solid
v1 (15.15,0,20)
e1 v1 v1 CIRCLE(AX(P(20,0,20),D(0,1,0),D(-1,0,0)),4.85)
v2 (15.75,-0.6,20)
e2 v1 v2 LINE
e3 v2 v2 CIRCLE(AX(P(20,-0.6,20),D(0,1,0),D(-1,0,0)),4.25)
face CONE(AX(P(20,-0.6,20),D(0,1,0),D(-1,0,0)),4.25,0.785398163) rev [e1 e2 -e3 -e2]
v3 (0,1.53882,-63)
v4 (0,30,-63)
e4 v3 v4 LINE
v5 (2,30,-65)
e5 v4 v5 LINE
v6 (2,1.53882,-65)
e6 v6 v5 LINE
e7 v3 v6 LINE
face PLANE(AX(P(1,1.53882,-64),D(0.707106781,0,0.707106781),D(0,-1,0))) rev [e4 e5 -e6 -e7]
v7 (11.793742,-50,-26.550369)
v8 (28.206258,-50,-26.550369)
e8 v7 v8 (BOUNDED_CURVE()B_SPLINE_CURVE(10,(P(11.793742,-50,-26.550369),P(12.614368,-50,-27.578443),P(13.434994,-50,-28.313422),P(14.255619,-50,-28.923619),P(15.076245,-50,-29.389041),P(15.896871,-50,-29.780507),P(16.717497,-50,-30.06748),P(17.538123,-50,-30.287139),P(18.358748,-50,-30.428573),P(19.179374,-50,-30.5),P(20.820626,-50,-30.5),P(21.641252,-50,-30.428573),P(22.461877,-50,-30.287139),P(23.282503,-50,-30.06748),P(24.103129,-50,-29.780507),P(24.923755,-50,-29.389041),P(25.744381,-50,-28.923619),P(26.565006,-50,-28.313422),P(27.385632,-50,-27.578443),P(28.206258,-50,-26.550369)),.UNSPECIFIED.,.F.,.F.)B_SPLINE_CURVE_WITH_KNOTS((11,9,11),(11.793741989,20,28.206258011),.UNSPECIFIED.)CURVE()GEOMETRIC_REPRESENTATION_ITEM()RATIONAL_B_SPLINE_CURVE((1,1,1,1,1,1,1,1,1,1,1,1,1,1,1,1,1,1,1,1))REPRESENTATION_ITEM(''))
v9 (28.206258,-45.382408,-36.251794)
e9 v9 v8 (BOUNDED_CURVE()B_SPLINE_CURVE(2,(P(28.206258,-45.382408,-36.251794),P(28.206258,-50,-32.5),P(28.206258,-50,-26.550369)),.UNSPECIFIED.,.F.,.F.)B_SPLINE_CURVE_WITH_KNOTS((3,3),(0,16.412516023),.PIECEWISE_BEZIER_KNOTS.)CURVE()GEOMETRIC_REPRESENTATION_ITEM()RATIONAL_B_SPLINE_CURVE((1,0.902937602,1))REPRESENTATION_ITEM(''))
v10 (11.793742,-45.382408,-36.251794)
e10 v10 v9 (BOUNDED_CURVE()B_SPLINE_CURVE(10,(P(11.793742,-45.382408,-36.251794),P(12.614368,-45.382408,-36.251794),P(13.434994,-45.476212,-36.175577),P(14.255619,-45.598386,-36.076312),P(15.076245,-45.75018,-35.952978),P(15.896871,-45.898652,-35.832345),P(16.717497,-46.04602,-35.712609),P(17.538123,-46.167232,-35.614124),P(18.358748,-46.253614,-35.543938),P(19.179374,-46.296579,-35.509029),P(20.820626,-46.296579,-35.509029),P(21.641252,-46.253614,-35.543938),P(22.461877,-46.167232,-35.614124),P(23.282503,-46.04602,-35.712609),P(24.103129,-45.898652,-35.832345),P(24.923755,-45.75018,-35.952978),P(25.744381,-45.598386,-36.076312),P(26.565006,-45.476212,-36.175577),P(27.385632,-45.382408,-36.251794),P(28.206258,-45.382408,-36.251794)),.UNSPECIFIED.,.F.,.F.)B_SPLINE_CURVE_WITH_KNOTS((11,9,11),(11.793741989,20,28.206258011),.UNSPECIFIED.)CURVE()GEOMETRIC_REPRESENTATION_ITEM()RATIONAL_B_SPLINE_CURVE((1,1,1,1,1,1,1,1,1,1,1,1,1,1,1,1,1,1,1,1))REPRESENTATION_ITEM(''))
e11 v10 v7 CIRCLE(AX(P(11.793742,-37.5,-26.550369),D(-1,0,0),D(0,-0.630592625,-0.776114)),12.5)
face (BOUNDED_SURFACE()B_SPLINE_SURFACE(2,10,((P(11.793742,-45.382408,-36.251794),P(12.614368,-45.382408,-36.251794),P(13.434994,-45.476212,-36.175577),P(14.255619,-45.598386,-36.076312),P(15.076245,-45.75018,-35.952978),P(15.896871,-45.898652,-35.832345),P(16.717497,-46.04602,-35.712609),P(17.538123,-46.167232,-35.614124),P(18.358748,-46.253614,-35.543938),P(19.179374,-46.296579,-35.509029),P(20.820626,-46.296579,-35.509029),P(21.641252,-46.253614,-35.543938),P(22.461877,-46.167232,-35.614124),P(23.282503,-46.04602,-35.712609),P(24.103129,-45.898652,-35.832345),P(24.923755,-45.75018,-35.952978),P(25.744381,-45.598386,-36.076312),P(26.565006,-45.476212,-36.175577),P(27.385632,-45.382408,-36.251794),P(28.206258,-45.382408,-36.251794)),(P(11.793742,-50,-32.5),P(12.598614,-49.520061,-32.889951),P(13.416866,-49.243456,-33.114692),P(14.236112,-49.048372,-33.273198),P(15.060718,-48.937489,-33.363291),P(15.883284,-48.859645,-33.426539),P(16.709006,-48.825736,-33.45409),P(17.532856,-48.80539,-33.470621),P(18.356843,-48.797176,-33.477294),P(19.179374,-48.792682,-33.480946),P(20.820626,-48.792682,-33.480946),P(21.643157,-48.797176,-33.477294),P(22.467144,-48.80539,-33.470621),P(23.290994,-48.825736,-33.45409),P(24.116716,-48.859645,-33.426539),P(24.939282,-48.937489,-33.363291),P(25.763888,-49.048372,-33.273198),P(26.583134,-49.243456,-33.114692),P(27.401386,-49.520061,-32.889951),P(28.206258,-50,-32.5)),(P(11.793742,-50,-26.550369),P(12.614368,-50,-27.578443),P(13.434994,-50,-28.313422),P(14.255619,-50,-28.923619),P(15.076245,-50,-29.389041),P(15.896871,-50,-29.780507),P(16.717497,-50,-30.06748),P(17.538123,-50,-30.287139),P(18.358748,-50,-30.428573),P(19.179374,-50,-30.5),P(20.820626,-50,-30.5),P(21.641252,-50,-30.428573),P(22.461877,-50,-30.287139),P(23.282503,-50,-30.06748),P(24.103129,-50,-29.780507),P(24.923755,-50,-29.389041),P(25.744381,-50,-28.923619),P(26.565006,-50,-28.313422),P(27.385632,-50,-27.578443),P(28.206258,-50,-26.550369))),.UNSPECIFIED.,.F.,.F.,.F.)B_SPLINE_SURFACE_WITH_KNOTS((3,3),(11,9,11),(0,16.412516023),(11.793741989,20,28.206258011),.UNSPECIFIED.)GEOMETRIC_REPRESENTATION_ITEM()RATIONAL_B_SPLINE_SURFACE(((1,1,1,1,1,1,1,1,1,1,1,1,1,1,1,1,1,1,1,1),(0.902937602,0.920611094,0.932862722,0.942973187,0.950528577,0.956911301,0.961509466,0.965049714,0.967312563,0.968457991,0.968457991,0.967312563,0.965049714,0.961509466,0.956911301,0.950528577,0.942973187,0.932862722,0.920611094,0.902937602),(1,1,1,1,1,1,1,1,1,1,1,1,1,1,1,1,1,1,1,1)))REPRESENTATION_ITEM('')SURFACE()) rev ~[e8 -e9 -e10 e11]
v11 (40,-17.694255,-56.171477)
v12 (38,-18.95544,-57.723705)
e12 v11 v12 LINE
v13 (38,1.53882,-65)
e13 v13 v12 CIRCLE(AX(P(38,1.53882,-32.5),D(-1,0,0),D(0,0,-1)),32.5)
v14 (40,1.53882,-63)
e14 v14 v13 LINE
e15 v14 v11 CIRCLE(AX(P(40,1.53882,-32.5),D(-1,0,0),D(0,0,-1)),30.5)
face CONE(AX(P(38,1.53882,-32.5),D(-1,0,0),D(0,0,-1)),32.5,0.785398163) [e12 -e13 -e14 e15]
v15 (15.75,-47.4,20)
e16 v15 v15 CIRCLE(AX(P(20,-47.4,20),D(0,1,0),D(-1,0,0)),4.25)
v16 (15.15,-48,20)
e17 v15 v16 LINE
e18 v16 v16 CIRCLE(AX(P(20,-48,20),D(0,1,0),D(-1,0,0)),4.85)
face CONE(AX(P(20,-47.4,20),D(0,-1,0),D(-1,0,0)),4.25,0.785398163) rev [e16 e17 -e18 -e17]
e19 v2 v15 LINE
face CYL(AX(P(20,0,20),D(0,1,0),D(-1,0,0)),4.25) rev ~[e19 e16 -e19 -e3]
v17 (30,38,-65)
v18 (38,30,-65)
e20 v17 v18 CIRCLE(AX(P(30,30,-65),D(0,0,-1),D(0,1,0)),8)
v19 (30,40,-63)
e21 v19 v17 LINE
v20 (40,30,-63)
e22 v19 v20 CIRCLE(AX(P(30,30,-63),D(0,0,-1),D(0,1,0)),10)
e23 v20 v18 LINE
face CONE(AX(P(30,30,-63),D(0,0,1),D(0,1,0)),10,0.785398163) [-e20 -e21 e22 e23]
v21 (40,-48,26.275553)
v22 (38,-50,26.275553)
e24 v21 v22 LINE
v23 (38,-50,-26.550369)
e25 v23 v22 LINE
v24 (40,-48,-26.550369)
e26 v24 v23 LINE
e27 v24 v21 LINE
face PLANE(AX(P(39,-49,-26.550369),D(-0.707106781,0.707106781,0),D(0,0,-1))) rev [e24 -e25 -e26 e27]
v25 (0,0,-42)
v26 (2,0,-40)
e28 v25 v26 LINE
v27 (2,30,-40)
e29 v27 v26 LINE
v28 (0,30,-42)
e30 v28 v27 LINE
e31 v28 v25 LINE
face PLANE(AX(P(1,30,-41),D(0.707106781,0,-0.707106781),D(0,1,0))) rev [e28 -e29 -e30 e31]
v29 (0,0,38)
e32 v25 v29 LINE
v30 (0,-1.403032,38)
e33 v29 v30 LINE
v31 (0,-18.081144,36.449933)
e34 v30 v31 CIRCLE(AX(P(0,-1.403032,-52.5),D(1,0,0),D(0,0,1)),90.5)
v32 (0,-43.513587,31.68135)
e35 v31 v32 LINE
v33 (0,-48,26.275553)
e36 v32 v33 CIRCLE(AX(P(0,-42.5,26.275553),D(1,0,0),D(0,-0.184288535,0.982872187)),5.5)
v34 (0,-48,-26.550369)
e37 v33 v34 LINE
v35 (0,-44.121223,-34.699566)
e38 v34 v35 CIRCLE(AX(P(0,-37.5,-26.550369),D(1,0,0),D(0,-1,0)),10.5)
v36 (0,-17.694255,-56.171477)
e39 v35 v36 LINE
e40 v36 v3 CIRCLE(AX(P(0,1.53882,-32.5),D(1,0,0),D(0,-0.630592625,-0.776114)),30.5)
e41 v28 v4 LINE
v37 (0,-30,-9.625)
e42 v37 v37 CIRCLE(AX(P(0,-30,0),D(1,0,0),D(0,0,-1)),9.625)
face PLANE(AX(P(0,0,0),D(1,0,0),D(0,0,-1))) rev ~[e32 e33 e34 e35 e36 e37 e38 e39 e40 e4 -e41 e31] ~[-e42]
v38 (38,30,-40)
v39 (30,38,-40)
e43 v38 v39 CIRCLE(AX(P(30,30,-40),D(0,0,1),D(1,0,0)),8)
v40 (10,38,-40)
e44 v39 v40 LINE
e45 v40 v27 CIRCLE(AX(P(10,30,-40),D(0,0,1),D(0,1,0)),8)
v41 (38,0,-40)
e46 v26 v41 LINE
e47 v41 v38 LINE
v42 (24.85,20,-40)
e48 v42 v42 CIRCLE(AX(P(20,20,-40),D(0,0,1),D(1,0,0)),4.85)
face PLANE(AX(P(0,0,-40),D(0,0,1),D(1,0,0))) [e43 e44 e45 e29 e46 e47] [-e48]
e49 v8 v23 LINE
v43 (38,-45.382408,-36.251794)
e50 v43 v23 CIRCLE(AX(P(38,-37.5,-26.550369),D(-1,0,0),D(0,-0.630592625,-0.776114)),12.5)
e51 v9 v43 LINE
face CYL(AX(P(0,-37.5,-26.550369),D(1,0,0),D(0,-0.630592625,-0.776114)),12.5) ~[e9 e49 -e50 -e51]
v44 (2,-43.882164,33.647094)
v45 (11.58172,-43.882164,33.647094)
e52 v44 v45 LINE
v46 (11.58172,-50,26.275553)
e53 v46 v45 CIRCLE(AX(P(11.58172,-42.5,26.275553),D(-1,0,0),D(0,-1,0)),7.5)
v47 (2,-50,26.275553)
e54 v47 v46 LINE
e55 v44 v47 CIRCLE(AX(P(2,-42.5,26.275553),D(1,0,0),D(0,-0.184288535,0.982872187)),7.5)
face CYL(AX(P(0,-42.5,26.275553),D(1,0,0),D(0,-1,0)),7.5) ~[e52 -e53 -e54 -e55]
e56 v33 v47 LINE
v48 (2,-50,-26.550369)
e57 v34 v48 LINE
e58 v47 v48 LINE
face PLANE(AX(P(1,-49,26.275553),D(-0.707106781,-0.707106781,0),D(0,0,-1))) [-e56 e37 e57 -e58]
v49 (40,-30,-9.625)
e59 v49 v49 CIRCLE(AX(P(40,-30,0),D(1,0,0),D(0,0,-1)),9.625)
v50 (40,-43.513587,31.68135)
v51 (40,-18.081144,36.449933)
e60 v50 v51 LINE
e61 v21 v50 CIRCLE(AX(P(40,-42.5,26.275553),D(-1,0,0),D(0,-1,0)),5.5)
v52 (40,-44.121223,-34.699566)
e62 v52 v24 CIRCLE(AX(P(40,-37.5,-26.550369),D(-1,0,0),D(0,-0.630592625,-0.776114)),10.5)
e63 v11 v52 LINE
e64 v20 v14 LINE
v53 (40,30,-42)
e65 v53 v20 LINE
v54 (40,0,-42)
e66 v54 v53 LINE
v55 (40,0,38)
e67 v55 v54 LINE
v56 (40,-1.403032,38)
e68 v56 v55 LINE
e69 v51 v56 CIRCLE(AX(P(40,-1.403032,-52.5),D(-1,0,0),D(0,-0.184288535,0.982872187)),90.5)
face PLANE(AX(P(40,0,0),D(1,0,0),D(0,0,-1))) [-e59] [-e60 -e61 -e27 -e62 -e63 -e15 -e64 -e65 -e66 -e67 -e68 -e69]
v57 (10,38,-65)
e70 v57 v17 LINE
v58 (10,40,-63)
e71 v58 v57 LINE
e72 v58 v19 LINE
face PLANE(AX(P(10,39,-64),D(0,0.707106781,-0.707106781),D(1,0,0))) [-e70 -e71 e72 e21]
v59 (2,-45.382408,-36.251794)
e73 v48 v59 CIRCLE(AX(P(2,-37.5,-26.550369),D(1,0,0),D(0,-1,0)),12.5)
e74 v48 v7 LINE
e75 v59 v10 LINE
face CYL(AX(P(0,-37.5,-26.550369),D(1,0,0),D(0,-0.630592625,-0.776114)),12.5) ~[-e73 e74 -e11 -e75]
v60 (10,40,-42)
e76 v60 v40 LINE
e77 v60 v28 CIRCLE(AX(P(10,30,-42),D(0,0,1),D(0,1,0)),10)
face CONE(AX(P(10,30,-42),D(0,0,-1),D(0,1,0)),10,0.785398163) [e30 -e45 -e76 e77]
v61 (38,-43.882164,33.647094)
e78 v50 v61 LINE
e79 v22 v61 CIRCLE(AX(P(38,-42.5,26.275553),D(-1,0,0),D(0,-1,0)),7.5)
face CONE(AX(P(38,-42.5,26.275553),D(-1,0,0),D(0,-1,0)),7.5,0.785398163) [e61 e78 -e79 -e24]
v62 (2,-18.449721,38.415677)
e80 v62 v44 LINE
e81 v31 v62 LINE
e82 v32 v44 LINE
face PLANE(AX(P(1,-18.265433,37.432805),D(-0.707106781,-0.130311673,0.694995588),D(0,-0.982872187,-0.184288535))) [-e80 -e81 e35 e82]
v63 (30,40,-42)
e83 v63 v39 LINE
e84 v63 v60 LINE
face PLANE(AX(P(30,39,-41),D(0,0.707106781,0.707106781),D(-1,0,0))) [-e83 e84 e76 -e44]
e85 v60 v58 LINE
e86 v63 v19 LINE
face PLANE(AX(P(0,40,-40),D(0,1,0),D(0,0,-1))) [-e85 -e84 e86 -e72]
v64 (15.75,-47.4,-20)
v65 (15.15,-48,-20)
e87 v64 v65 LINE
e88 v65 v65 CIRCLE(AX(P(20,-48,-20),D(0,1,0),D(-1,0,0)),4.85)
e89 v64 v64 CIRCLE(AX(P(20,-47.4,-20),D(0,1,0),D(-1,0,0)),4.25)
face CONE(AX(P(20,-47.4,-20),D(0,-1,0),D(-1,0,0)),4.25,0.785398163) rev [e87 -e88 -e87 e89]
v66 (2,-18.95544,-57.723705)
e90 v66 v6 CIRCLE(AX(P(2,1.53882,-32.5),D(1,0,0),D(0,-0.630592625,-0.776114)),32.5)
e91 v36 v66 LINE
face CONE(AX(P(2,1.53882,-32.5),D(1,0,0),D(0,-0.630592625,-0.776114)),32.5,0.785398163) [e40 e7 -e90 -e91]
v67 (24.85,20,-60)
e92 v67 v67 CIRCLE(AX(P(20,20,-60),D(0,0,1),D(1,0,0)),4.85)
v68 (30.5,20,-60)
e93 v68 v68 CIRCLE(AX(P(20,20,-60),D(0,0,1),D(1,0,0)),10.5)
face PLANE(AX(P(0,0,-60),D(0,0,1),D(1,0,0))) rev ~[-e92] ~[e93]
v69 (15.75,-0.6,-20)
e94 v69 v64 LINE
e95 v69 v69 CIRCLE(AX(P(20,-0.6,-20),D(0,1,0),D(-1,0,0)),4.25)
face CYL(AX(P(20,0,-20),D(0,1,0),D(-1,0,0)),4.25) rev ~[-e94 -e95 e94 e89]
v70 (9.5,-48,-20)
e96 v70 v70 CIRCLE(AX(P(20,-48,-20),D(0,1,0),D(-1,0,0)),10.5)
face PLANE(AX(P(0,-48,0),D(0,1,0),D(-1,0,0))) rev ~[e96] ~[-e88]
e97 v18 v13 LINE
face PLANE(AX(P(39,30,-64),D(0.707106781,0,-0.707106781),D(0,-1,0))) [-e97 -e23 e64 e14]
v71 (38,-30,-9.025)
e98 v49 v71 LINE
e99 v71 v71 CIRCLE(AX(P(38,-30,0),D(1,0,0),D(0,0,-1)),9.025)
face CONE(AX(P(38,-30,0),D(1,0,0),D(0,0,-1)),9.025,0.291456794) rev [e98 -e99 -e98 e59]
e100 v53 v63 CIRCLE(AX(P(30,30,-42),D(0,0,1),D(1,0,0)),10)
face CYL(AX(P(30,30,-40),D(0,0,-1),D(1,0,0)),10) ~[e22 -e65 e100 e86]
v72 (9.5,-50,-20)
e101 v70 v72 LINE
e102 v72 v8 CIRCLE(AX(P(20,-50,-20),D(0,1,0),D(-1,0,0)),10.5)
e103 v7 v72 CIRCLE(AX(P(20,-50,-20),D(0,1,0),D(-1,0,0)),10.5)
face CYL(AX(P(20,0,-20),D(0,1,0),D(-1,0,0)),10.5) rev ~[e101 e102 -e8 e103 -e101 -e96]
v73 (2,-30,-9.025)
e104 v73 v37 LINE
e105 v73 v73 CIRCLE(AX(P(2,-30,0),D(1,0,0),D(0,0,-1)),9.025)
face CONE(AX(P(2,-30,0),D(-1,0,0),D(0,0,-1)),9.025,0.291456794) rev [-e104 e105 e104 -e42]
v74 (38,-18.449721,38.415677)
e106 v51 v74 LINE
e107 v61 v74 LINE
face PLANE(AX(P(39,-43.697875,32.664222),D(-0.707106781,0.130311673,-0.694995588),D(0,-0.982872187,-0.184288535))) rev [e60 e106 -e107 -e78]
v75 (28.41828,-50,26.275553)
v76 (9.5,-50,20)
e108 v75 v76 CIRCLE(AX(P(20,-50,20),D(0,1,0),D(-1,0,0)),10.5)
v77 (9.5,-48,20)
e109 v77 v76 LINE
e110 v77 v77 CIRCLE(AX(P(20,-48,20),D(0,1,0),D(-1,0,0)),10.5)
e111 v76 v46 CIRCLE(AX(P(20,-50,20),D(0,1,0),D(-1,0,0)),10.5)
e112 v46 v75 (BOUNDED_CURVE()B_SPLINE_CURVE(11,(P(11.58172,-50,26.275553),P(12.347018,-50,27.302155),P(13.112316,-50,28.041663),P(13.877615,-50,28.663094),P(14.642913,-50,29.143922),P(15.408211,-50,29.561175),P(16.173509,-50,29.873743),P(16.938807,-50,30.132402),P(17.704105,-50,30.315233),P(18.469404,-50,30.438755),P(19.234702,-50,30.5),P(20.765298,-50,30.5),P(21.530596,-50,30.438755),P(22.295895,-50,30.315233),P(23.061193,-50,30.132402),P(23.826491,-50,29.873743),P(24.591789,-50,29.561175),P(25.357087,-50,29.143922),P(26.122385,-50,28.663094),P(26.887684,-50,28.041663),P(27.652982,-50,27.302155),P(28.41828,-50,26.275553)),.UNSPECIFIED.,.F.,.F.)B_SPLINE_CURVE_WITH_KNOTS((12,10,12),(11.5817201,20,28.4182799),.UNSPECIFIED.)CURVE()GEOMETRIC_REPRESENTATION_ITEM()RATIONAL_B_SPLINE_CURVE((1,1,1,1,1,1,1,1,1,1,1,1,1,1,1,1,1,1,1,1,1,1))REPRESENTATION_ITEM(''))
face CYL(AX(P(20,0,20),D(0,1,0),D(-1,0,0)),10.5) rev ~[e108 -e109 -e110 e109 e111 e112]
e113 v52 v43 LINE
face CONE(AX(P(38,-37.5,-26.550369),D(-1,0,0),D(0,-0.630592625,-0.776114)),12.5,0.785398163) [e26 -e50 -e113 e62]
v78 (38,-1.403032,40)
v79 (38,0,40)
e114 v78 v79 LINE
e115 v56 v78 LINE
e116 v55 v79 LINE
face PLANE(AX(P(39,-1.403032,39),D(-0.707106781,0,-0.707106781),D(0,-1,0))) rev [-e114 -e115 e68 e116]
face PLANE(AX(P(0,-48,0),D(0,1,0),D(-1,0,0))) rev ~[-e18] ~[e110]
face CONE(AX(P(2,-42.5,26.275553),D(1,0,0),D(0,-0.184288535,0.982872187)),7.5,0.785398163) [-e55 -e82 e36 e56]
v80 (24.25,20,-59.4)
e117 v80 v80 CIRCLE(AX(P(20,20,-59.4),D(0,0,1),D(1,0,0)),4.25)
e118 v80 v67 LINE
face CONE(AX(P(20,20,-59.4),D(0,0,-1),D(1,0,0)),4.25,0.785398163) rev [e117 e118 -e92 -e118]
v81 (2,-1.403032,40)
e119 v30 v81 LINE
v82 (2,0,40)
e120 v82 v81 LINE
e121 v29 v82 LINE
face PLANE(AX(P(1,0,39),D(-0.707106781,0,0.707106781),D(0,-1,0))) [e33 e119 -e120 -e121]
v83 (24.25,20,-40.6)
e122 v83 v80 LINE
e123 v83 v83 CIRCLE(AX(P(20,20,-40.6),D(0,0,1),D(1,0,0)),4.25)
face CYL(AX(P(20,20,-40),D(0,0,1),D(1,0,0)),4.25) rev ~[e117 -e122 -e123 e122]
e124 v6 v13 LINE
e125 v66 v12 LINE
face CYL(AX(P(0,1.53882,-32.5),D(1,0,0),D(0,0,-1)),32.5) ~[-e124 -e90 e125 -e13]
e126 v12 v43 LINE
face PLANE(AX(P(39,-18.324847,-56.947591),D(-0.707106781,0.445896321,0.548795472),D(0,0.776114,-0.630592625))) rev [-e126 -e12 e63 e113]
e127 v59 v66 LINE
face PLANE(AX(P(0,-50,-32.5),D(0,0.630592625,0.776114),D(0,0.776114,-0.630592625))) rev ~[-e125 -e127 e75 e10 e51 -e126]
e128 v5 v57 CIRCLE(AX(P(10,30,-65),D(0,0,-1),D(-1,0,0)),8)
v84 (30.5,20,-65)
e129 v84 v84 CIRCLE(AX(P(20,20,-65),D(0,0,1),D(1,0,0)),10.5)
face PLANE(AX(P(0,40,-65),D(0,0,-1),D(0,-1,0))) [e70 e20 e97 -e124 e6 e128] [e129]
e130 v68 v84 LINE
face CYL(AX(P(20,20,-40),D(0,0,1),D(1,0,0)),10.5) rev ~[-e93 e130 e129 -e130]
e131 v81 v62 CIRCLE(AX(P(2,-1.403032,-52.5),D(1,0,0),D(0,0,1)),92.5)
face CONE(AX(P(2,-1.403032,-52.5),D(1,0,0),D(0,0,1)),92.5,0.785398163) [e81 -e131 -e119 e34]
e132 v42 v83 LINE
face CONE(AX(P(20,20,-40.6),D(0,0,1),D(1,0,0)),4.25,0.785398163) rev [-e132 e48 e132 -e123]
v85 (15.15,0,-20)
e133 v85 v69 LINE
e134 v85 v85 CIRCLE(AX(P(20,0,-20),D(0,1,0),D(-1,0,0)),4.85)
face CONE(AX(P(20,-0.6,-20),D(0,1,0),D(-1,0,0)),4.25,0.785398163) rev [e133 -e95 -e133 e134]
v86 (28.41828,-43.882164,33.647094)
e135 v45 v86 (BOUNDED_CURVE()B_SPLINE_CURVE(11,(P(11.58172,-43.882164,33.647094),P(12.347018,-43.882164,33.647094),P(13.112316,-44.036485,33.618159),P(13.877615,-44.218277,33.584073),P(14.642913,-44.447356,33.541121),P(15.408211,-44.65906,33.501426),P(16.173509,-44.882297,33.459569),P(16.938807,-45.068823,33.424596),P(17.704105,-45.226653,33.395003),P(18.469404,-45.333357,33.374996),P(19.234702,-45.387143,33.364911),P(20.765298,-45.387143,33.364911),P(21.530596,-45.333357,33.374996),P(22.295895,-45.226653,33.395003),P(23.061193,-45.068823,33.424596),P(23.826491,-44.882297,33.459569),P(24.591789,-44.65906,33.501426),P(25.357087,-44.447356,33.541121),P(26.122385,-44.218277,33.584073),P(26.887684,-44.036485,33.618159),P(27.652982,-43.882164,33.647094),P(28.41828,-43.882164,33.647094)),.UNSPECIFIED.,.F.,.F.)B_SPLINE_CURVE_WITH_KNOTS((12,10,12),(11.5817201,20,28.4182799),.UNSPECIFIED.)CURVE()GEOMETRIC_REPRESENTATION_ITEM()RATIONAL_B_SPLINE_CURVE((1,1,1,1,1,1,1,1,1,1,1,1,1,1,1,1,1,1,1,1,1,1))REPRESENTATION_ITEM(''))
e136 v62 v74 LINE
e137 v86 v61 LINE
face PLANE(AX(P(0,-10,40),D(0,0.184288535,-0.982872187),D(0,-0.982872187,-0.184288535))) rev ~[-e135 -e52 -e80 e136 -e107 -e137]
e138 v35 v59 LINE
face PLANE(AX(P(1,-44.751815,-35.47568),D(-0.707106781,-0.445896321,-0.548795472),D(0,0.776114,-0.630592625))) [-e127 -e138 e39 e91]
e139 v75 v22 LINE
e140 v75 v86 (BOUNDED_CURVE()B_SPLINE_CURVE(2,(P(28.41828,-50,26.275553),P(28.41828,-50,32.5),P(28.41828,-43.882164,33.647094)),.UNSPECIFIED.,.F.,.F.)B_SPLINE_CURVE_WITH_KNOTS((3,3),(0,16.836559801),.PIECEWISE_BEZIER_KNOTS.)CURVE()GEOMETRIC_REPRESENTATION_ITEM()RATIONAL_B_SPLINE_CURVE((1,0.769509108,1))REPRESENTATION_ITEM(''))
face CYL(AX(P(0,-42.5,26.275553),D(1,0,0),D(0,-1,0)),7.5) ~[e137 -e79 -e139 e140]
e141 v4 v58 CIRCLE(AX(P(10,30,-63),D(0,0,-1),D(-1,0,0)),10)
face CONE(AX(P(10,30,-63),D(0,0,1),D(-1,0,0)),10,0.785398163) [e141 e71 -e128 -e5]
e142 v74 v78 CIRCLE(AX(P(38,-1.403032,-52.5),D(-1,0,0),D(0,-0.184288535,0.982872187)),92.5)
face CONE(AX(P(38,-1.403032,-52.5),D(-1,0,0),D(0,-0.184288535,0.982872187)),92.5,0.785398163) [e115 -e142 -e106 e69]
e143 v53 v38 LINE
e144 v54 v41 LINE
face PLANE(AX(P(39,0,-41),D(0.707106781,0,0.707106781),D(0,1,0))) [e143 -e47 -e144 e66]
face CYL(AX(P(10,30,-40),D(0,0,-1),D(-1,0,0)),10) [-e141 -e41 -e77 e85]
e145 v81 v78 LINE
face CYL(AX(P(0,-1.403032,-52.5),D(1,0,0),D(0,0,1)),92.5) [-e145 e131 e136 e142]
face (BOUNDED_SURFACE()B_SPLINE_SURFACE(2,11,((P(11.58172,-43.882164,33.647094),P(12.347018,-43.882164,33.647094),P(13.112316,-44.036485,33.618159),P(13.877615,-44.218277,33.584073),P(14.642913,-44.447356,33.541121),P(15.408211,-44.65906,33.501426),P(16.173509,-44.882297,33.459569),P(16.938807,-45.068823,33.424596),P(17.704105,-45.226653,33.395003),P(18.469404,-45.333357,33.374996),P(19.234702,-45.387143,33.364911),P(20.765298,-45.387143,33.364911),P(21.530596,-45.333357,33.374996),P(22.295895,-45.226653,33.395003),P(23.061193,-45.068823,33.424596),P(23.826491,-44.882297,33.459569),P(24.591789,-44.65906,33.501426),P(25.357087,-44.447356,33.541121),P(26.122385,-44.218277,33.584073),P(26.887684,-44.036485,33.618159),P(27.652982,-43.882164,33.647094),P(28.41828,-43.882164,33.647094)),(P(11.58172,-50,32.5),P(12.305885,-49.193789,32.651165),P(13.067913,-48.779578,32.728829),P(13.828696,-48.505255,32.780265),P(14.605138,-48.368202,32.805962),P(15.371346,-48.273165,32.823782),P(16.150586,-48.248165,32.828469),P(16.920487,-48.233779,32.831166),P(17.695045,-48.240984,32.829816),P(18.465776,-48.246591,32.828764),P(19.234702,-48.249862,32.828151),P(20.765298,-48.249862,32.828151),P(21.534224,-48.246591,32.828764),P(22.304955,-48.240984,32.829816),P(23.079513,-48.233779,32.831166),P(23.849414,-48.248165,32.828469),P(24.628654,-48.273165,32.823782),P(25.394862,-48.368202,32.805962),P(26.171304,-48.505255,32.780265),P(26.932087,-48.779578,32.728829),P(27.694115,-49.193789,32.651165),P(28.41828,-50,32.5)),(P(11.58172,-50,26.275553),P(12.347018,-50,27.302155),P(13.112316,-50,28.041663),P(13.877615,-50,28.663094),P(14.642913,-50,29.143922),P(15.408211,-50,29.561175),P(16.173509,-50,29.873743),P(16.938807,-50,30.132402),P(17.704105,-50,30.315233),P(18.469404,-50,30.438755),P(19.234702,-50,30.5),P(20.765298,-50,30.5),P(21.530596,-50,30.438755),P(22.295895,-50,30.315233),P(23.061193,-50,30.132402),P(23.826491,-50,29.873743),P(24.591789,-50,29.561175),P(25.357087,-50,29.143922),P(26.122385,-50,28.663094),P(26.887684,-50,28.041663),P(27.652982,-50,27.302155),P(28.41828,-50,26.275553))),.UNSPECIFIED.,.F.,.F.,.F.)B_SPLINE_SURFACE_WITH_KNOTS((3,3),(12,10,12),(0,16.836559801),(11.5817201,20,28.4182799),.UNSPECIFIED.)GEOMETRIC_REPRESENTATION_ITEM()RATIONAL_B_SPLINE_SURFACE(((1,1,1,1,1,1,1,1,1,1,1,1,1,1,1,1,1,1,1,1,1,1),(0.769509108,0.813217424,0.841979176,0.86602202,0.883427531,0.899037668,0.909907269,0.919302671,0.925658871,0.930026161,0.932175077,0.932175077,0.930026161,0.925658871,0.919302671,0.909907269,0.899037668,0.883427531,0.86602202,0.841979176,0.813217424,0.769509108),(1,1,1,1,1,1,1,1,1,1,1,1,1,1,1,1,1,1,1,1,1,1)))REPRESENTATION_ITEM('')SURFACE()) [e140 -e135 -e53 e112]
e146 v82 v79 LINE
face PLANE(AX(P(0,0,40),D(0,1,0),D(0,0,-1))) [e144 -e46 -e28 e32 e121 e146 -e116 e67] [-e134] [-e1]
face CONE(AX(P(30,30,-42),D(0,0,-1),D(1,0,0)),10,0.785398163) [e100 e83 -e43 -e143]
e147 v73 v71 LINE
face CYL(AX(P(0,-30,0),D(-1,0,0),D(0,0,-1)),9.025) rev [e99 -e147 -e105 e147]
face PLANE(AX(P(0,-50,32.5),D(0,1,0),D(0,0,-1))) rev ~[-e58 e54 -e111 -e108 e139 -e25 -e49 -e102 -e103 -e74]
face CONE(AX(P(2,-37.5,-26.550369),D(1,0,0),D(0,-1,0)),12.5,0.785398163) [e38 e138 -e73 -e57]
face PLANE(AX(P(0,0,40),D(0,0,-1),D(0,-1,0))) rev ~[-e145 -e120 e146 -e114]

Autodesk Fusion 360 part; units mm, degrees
sketch "Sketch7" plane through (0, 0, 0) normal (1, 0, 0) x (0, 0, -1)
  line L0 (-40, 0) -> (40, 0)
  line L1 (40, 0) -> (40, 40)
  line L2 (40, 40) -> (65, 40)
  line L3 (65, 40) -> (65, -10)
  line L4 (-40, 0) -> (-40, -10)
  line L5 (0, 0) -> (0, -30) construction
  circle A0 centre (0, -30) radius 9.025
  line L6 (-40, -10) -> (-32.5, -50)
  line L7 (-32.5, -50) -> (32.5, -50)
  line L8 (32.5, -50) -> (65, -10)
  dimension "d98" = 80
  dimension "d99" = 40
  dimension "d100" = 25
  dimension "d101" = 50
  dimension "d102" = 10
  dimension "d103" = 30
  dimension "d104" = 18.05
  dimension "d105" = 7.5
  dimension "d106" = 7.5
  dimension "d107" = 50
extrude "Extrude12" add sketch "Sketch7" along normal blind 40 makes body 1
sketch "Sketch8" plane through (0, 0, 0) normal (0, 1, 0) x (-1, 0, 0)
  line L0 (0, -40) -> (0, 40)
  line L1 (0, 40) -> (-40, 40)
  line L2 (-40, 40) -> (-40, -40)
  line L3 (-40, -40) -> (0, -40)
  line L4 (-40, 20) -> (0, 20) construction
  line L5 (0, -20) -> (-40, -20) construction
  circle A0 centre (-20, 20) radius 10.5
  circle A1 centre (-20, 20) radius 4.25
  circle A2 centre (-20, -20) radius 10.5
  circle A3 centre (-20, -20) radius 4.25
  dimension "d110" = 20
  dimension "d111" = 20
  dimension "d112" = 21
  dimension "d113" = 8.5
extrude "Extrude13" cut sketch "Sketch8" against normal blind 65 contours A0 | A1 | A2 | A3 bodies 1
extrude "Extrude14" add sketch "Sketch8" against normal blind 48 contours A0 | A2 bodies 1
sketch "Sketch9" plane through (0, 0, -40) normal (0, 0, 1) x (1, 0, 0)
  line L0 (0, 40) -> (0, 0)
  line L1 (0, 0) -> (40, 0)
  line L2 (40, 0) -> (40, 40)
  line L3 (40, 40) -> (0, 40)
  line L4 (0, 40) -> (40, 0) construction
  circle A0 centre (20, 20) radius 10.5
  circle A1 centre (20, 20) radius 4.25
  dimension "d118" = 21
  dimension "d119" = 8.5
extrude "Extrude15" cut sketch "Sketch9" against normal blind 25 contours A0 | A1 bodies 1
extrude "Extrude16" add sketch "Sketch9" against normal blind 20 contours A0 bodies 1
fillet "Fillet6" radius 7.5 1 edges at (20, -50, 32.5) on bodies 1
fillet "Fillet6" radius 92.5 1 edges at (20, -10, 40) on bodies 1
fillet "Fillet6" radius 12.5 1 edges at (20, -50, -32.5) on bodies 1
fillet "Fillet6" radius 32.5 1 edges at (20, -10, -65) on bodies 1
fillet "Fillet6" radius 10 2 edges at (40, 40, -52.5) (0, 40, -52.5) on bodies 1
chamfer "Chamfer2" distance 2 distance2 2 26 edges at (40, 15.7694, -65) (37.0711, 37.0711, -65) (20, 40, -65) (2.9289, 37.0711, -65) (0, 15.7694, -65) (0, -9.335, -63.127) (0, -32.1689, -46.9877) (0, -48.7867, -31.9225) (0, -50, -0.1374) (0, -48.2713, 31.0653) (0, -31.1659, 36.0314) (0, -9.9631, 39.6031) (0, -0.7015, 40) (40, -0.7015, 40) (40, -9.9631, 39.6031) (40, -31.1659, 36.0314) (40, -48.2713, 31.0653) (40, -50, -0.1374) (40, -48.7867, -31.9225) (40, -32.1689, -46.9877) (40, -9.335, -63.127) (37.0711, 37.0711, -40) (40, 15, -40) (0, 15, -40) (2.9289, 37.0711, -40) (20, 40, -40) measured on face at (40, -24.2407, -28.2919) measured on face at (30.4758, 39.9887, -48.3333) measured on face at (36.7942, 16.658, -65) measured on face at (9.5242, 39.9887, -48.3333) measured on face at (0, -24.2407, -28.2919) measured on face at (13.3333, -4.342, -64.4635) measured on face at (21.3822, -27.9314, -50.4307) measured on face at (3.9312, -49.9391, -27.7824) measured on face at (36.4044, -50, -5.0795) measured on face at (7.7211, -44.5562, 33.4882) measured on face at (21.8485, -27.0997, 36.7938) measured on face at (13.3333, -10.911, 39.51) measured on face at (26.6667, -0.4677, 40) measured on face at (40, -24.2407, -28.2919) measured on face at (13.3333, -10.911, 39.51) measured on face at (40, -24.2407, -28.2919) measured on face at (32.2789, -49.9654, 26.9948) measured on face at (40, -24.2407, -28.2919) measured on face at (32.1375, -47.1192, -34.5329) measured on face at (40, -24.2407, -28.2919) measured on face at (13.3333, -4.342, -64.4635) measured on face at (30.4758, 39.9887, -48.3333) measured on face at (40, -24.2407, -28.2919) measured on face at (0, -24.2407, -28.2919) measured on face at (9.5242, 39.9887, -48.3333) measured on face at (16.6667, 40, -48.3333) on bodies 1
chamfer "Chamfer2" distance 0.6 distance2 0.6 3 faces at (24.2447, 19.7882, -53.3333) (15.7553, -32, -20.2118) (15.7553, -32, 19.7882) on bodies 1
chamfer "Chamfer2" distance 0.6 distance2 2 1 edges at (40, -26.7364, 8.4143) measured on face at (40, -24.2407, -28.2919) on bodies 1
chamfer "Chamfer2" distance 2 distance2 0.6 1 edges at (0, -26.7364, 8.4143) measured on face at (26.6667, -30.4499, -9.0138) on bodies 1
copy_body "Body->Comp2" bodies 1 removing the originals makes body 2 in component "wheel stand hinge point"
component "wheel stand hinge point" placed x (1, 0, 0) y (0, 1, 0) z (0, 0, 1) at (0, 0, 0)
